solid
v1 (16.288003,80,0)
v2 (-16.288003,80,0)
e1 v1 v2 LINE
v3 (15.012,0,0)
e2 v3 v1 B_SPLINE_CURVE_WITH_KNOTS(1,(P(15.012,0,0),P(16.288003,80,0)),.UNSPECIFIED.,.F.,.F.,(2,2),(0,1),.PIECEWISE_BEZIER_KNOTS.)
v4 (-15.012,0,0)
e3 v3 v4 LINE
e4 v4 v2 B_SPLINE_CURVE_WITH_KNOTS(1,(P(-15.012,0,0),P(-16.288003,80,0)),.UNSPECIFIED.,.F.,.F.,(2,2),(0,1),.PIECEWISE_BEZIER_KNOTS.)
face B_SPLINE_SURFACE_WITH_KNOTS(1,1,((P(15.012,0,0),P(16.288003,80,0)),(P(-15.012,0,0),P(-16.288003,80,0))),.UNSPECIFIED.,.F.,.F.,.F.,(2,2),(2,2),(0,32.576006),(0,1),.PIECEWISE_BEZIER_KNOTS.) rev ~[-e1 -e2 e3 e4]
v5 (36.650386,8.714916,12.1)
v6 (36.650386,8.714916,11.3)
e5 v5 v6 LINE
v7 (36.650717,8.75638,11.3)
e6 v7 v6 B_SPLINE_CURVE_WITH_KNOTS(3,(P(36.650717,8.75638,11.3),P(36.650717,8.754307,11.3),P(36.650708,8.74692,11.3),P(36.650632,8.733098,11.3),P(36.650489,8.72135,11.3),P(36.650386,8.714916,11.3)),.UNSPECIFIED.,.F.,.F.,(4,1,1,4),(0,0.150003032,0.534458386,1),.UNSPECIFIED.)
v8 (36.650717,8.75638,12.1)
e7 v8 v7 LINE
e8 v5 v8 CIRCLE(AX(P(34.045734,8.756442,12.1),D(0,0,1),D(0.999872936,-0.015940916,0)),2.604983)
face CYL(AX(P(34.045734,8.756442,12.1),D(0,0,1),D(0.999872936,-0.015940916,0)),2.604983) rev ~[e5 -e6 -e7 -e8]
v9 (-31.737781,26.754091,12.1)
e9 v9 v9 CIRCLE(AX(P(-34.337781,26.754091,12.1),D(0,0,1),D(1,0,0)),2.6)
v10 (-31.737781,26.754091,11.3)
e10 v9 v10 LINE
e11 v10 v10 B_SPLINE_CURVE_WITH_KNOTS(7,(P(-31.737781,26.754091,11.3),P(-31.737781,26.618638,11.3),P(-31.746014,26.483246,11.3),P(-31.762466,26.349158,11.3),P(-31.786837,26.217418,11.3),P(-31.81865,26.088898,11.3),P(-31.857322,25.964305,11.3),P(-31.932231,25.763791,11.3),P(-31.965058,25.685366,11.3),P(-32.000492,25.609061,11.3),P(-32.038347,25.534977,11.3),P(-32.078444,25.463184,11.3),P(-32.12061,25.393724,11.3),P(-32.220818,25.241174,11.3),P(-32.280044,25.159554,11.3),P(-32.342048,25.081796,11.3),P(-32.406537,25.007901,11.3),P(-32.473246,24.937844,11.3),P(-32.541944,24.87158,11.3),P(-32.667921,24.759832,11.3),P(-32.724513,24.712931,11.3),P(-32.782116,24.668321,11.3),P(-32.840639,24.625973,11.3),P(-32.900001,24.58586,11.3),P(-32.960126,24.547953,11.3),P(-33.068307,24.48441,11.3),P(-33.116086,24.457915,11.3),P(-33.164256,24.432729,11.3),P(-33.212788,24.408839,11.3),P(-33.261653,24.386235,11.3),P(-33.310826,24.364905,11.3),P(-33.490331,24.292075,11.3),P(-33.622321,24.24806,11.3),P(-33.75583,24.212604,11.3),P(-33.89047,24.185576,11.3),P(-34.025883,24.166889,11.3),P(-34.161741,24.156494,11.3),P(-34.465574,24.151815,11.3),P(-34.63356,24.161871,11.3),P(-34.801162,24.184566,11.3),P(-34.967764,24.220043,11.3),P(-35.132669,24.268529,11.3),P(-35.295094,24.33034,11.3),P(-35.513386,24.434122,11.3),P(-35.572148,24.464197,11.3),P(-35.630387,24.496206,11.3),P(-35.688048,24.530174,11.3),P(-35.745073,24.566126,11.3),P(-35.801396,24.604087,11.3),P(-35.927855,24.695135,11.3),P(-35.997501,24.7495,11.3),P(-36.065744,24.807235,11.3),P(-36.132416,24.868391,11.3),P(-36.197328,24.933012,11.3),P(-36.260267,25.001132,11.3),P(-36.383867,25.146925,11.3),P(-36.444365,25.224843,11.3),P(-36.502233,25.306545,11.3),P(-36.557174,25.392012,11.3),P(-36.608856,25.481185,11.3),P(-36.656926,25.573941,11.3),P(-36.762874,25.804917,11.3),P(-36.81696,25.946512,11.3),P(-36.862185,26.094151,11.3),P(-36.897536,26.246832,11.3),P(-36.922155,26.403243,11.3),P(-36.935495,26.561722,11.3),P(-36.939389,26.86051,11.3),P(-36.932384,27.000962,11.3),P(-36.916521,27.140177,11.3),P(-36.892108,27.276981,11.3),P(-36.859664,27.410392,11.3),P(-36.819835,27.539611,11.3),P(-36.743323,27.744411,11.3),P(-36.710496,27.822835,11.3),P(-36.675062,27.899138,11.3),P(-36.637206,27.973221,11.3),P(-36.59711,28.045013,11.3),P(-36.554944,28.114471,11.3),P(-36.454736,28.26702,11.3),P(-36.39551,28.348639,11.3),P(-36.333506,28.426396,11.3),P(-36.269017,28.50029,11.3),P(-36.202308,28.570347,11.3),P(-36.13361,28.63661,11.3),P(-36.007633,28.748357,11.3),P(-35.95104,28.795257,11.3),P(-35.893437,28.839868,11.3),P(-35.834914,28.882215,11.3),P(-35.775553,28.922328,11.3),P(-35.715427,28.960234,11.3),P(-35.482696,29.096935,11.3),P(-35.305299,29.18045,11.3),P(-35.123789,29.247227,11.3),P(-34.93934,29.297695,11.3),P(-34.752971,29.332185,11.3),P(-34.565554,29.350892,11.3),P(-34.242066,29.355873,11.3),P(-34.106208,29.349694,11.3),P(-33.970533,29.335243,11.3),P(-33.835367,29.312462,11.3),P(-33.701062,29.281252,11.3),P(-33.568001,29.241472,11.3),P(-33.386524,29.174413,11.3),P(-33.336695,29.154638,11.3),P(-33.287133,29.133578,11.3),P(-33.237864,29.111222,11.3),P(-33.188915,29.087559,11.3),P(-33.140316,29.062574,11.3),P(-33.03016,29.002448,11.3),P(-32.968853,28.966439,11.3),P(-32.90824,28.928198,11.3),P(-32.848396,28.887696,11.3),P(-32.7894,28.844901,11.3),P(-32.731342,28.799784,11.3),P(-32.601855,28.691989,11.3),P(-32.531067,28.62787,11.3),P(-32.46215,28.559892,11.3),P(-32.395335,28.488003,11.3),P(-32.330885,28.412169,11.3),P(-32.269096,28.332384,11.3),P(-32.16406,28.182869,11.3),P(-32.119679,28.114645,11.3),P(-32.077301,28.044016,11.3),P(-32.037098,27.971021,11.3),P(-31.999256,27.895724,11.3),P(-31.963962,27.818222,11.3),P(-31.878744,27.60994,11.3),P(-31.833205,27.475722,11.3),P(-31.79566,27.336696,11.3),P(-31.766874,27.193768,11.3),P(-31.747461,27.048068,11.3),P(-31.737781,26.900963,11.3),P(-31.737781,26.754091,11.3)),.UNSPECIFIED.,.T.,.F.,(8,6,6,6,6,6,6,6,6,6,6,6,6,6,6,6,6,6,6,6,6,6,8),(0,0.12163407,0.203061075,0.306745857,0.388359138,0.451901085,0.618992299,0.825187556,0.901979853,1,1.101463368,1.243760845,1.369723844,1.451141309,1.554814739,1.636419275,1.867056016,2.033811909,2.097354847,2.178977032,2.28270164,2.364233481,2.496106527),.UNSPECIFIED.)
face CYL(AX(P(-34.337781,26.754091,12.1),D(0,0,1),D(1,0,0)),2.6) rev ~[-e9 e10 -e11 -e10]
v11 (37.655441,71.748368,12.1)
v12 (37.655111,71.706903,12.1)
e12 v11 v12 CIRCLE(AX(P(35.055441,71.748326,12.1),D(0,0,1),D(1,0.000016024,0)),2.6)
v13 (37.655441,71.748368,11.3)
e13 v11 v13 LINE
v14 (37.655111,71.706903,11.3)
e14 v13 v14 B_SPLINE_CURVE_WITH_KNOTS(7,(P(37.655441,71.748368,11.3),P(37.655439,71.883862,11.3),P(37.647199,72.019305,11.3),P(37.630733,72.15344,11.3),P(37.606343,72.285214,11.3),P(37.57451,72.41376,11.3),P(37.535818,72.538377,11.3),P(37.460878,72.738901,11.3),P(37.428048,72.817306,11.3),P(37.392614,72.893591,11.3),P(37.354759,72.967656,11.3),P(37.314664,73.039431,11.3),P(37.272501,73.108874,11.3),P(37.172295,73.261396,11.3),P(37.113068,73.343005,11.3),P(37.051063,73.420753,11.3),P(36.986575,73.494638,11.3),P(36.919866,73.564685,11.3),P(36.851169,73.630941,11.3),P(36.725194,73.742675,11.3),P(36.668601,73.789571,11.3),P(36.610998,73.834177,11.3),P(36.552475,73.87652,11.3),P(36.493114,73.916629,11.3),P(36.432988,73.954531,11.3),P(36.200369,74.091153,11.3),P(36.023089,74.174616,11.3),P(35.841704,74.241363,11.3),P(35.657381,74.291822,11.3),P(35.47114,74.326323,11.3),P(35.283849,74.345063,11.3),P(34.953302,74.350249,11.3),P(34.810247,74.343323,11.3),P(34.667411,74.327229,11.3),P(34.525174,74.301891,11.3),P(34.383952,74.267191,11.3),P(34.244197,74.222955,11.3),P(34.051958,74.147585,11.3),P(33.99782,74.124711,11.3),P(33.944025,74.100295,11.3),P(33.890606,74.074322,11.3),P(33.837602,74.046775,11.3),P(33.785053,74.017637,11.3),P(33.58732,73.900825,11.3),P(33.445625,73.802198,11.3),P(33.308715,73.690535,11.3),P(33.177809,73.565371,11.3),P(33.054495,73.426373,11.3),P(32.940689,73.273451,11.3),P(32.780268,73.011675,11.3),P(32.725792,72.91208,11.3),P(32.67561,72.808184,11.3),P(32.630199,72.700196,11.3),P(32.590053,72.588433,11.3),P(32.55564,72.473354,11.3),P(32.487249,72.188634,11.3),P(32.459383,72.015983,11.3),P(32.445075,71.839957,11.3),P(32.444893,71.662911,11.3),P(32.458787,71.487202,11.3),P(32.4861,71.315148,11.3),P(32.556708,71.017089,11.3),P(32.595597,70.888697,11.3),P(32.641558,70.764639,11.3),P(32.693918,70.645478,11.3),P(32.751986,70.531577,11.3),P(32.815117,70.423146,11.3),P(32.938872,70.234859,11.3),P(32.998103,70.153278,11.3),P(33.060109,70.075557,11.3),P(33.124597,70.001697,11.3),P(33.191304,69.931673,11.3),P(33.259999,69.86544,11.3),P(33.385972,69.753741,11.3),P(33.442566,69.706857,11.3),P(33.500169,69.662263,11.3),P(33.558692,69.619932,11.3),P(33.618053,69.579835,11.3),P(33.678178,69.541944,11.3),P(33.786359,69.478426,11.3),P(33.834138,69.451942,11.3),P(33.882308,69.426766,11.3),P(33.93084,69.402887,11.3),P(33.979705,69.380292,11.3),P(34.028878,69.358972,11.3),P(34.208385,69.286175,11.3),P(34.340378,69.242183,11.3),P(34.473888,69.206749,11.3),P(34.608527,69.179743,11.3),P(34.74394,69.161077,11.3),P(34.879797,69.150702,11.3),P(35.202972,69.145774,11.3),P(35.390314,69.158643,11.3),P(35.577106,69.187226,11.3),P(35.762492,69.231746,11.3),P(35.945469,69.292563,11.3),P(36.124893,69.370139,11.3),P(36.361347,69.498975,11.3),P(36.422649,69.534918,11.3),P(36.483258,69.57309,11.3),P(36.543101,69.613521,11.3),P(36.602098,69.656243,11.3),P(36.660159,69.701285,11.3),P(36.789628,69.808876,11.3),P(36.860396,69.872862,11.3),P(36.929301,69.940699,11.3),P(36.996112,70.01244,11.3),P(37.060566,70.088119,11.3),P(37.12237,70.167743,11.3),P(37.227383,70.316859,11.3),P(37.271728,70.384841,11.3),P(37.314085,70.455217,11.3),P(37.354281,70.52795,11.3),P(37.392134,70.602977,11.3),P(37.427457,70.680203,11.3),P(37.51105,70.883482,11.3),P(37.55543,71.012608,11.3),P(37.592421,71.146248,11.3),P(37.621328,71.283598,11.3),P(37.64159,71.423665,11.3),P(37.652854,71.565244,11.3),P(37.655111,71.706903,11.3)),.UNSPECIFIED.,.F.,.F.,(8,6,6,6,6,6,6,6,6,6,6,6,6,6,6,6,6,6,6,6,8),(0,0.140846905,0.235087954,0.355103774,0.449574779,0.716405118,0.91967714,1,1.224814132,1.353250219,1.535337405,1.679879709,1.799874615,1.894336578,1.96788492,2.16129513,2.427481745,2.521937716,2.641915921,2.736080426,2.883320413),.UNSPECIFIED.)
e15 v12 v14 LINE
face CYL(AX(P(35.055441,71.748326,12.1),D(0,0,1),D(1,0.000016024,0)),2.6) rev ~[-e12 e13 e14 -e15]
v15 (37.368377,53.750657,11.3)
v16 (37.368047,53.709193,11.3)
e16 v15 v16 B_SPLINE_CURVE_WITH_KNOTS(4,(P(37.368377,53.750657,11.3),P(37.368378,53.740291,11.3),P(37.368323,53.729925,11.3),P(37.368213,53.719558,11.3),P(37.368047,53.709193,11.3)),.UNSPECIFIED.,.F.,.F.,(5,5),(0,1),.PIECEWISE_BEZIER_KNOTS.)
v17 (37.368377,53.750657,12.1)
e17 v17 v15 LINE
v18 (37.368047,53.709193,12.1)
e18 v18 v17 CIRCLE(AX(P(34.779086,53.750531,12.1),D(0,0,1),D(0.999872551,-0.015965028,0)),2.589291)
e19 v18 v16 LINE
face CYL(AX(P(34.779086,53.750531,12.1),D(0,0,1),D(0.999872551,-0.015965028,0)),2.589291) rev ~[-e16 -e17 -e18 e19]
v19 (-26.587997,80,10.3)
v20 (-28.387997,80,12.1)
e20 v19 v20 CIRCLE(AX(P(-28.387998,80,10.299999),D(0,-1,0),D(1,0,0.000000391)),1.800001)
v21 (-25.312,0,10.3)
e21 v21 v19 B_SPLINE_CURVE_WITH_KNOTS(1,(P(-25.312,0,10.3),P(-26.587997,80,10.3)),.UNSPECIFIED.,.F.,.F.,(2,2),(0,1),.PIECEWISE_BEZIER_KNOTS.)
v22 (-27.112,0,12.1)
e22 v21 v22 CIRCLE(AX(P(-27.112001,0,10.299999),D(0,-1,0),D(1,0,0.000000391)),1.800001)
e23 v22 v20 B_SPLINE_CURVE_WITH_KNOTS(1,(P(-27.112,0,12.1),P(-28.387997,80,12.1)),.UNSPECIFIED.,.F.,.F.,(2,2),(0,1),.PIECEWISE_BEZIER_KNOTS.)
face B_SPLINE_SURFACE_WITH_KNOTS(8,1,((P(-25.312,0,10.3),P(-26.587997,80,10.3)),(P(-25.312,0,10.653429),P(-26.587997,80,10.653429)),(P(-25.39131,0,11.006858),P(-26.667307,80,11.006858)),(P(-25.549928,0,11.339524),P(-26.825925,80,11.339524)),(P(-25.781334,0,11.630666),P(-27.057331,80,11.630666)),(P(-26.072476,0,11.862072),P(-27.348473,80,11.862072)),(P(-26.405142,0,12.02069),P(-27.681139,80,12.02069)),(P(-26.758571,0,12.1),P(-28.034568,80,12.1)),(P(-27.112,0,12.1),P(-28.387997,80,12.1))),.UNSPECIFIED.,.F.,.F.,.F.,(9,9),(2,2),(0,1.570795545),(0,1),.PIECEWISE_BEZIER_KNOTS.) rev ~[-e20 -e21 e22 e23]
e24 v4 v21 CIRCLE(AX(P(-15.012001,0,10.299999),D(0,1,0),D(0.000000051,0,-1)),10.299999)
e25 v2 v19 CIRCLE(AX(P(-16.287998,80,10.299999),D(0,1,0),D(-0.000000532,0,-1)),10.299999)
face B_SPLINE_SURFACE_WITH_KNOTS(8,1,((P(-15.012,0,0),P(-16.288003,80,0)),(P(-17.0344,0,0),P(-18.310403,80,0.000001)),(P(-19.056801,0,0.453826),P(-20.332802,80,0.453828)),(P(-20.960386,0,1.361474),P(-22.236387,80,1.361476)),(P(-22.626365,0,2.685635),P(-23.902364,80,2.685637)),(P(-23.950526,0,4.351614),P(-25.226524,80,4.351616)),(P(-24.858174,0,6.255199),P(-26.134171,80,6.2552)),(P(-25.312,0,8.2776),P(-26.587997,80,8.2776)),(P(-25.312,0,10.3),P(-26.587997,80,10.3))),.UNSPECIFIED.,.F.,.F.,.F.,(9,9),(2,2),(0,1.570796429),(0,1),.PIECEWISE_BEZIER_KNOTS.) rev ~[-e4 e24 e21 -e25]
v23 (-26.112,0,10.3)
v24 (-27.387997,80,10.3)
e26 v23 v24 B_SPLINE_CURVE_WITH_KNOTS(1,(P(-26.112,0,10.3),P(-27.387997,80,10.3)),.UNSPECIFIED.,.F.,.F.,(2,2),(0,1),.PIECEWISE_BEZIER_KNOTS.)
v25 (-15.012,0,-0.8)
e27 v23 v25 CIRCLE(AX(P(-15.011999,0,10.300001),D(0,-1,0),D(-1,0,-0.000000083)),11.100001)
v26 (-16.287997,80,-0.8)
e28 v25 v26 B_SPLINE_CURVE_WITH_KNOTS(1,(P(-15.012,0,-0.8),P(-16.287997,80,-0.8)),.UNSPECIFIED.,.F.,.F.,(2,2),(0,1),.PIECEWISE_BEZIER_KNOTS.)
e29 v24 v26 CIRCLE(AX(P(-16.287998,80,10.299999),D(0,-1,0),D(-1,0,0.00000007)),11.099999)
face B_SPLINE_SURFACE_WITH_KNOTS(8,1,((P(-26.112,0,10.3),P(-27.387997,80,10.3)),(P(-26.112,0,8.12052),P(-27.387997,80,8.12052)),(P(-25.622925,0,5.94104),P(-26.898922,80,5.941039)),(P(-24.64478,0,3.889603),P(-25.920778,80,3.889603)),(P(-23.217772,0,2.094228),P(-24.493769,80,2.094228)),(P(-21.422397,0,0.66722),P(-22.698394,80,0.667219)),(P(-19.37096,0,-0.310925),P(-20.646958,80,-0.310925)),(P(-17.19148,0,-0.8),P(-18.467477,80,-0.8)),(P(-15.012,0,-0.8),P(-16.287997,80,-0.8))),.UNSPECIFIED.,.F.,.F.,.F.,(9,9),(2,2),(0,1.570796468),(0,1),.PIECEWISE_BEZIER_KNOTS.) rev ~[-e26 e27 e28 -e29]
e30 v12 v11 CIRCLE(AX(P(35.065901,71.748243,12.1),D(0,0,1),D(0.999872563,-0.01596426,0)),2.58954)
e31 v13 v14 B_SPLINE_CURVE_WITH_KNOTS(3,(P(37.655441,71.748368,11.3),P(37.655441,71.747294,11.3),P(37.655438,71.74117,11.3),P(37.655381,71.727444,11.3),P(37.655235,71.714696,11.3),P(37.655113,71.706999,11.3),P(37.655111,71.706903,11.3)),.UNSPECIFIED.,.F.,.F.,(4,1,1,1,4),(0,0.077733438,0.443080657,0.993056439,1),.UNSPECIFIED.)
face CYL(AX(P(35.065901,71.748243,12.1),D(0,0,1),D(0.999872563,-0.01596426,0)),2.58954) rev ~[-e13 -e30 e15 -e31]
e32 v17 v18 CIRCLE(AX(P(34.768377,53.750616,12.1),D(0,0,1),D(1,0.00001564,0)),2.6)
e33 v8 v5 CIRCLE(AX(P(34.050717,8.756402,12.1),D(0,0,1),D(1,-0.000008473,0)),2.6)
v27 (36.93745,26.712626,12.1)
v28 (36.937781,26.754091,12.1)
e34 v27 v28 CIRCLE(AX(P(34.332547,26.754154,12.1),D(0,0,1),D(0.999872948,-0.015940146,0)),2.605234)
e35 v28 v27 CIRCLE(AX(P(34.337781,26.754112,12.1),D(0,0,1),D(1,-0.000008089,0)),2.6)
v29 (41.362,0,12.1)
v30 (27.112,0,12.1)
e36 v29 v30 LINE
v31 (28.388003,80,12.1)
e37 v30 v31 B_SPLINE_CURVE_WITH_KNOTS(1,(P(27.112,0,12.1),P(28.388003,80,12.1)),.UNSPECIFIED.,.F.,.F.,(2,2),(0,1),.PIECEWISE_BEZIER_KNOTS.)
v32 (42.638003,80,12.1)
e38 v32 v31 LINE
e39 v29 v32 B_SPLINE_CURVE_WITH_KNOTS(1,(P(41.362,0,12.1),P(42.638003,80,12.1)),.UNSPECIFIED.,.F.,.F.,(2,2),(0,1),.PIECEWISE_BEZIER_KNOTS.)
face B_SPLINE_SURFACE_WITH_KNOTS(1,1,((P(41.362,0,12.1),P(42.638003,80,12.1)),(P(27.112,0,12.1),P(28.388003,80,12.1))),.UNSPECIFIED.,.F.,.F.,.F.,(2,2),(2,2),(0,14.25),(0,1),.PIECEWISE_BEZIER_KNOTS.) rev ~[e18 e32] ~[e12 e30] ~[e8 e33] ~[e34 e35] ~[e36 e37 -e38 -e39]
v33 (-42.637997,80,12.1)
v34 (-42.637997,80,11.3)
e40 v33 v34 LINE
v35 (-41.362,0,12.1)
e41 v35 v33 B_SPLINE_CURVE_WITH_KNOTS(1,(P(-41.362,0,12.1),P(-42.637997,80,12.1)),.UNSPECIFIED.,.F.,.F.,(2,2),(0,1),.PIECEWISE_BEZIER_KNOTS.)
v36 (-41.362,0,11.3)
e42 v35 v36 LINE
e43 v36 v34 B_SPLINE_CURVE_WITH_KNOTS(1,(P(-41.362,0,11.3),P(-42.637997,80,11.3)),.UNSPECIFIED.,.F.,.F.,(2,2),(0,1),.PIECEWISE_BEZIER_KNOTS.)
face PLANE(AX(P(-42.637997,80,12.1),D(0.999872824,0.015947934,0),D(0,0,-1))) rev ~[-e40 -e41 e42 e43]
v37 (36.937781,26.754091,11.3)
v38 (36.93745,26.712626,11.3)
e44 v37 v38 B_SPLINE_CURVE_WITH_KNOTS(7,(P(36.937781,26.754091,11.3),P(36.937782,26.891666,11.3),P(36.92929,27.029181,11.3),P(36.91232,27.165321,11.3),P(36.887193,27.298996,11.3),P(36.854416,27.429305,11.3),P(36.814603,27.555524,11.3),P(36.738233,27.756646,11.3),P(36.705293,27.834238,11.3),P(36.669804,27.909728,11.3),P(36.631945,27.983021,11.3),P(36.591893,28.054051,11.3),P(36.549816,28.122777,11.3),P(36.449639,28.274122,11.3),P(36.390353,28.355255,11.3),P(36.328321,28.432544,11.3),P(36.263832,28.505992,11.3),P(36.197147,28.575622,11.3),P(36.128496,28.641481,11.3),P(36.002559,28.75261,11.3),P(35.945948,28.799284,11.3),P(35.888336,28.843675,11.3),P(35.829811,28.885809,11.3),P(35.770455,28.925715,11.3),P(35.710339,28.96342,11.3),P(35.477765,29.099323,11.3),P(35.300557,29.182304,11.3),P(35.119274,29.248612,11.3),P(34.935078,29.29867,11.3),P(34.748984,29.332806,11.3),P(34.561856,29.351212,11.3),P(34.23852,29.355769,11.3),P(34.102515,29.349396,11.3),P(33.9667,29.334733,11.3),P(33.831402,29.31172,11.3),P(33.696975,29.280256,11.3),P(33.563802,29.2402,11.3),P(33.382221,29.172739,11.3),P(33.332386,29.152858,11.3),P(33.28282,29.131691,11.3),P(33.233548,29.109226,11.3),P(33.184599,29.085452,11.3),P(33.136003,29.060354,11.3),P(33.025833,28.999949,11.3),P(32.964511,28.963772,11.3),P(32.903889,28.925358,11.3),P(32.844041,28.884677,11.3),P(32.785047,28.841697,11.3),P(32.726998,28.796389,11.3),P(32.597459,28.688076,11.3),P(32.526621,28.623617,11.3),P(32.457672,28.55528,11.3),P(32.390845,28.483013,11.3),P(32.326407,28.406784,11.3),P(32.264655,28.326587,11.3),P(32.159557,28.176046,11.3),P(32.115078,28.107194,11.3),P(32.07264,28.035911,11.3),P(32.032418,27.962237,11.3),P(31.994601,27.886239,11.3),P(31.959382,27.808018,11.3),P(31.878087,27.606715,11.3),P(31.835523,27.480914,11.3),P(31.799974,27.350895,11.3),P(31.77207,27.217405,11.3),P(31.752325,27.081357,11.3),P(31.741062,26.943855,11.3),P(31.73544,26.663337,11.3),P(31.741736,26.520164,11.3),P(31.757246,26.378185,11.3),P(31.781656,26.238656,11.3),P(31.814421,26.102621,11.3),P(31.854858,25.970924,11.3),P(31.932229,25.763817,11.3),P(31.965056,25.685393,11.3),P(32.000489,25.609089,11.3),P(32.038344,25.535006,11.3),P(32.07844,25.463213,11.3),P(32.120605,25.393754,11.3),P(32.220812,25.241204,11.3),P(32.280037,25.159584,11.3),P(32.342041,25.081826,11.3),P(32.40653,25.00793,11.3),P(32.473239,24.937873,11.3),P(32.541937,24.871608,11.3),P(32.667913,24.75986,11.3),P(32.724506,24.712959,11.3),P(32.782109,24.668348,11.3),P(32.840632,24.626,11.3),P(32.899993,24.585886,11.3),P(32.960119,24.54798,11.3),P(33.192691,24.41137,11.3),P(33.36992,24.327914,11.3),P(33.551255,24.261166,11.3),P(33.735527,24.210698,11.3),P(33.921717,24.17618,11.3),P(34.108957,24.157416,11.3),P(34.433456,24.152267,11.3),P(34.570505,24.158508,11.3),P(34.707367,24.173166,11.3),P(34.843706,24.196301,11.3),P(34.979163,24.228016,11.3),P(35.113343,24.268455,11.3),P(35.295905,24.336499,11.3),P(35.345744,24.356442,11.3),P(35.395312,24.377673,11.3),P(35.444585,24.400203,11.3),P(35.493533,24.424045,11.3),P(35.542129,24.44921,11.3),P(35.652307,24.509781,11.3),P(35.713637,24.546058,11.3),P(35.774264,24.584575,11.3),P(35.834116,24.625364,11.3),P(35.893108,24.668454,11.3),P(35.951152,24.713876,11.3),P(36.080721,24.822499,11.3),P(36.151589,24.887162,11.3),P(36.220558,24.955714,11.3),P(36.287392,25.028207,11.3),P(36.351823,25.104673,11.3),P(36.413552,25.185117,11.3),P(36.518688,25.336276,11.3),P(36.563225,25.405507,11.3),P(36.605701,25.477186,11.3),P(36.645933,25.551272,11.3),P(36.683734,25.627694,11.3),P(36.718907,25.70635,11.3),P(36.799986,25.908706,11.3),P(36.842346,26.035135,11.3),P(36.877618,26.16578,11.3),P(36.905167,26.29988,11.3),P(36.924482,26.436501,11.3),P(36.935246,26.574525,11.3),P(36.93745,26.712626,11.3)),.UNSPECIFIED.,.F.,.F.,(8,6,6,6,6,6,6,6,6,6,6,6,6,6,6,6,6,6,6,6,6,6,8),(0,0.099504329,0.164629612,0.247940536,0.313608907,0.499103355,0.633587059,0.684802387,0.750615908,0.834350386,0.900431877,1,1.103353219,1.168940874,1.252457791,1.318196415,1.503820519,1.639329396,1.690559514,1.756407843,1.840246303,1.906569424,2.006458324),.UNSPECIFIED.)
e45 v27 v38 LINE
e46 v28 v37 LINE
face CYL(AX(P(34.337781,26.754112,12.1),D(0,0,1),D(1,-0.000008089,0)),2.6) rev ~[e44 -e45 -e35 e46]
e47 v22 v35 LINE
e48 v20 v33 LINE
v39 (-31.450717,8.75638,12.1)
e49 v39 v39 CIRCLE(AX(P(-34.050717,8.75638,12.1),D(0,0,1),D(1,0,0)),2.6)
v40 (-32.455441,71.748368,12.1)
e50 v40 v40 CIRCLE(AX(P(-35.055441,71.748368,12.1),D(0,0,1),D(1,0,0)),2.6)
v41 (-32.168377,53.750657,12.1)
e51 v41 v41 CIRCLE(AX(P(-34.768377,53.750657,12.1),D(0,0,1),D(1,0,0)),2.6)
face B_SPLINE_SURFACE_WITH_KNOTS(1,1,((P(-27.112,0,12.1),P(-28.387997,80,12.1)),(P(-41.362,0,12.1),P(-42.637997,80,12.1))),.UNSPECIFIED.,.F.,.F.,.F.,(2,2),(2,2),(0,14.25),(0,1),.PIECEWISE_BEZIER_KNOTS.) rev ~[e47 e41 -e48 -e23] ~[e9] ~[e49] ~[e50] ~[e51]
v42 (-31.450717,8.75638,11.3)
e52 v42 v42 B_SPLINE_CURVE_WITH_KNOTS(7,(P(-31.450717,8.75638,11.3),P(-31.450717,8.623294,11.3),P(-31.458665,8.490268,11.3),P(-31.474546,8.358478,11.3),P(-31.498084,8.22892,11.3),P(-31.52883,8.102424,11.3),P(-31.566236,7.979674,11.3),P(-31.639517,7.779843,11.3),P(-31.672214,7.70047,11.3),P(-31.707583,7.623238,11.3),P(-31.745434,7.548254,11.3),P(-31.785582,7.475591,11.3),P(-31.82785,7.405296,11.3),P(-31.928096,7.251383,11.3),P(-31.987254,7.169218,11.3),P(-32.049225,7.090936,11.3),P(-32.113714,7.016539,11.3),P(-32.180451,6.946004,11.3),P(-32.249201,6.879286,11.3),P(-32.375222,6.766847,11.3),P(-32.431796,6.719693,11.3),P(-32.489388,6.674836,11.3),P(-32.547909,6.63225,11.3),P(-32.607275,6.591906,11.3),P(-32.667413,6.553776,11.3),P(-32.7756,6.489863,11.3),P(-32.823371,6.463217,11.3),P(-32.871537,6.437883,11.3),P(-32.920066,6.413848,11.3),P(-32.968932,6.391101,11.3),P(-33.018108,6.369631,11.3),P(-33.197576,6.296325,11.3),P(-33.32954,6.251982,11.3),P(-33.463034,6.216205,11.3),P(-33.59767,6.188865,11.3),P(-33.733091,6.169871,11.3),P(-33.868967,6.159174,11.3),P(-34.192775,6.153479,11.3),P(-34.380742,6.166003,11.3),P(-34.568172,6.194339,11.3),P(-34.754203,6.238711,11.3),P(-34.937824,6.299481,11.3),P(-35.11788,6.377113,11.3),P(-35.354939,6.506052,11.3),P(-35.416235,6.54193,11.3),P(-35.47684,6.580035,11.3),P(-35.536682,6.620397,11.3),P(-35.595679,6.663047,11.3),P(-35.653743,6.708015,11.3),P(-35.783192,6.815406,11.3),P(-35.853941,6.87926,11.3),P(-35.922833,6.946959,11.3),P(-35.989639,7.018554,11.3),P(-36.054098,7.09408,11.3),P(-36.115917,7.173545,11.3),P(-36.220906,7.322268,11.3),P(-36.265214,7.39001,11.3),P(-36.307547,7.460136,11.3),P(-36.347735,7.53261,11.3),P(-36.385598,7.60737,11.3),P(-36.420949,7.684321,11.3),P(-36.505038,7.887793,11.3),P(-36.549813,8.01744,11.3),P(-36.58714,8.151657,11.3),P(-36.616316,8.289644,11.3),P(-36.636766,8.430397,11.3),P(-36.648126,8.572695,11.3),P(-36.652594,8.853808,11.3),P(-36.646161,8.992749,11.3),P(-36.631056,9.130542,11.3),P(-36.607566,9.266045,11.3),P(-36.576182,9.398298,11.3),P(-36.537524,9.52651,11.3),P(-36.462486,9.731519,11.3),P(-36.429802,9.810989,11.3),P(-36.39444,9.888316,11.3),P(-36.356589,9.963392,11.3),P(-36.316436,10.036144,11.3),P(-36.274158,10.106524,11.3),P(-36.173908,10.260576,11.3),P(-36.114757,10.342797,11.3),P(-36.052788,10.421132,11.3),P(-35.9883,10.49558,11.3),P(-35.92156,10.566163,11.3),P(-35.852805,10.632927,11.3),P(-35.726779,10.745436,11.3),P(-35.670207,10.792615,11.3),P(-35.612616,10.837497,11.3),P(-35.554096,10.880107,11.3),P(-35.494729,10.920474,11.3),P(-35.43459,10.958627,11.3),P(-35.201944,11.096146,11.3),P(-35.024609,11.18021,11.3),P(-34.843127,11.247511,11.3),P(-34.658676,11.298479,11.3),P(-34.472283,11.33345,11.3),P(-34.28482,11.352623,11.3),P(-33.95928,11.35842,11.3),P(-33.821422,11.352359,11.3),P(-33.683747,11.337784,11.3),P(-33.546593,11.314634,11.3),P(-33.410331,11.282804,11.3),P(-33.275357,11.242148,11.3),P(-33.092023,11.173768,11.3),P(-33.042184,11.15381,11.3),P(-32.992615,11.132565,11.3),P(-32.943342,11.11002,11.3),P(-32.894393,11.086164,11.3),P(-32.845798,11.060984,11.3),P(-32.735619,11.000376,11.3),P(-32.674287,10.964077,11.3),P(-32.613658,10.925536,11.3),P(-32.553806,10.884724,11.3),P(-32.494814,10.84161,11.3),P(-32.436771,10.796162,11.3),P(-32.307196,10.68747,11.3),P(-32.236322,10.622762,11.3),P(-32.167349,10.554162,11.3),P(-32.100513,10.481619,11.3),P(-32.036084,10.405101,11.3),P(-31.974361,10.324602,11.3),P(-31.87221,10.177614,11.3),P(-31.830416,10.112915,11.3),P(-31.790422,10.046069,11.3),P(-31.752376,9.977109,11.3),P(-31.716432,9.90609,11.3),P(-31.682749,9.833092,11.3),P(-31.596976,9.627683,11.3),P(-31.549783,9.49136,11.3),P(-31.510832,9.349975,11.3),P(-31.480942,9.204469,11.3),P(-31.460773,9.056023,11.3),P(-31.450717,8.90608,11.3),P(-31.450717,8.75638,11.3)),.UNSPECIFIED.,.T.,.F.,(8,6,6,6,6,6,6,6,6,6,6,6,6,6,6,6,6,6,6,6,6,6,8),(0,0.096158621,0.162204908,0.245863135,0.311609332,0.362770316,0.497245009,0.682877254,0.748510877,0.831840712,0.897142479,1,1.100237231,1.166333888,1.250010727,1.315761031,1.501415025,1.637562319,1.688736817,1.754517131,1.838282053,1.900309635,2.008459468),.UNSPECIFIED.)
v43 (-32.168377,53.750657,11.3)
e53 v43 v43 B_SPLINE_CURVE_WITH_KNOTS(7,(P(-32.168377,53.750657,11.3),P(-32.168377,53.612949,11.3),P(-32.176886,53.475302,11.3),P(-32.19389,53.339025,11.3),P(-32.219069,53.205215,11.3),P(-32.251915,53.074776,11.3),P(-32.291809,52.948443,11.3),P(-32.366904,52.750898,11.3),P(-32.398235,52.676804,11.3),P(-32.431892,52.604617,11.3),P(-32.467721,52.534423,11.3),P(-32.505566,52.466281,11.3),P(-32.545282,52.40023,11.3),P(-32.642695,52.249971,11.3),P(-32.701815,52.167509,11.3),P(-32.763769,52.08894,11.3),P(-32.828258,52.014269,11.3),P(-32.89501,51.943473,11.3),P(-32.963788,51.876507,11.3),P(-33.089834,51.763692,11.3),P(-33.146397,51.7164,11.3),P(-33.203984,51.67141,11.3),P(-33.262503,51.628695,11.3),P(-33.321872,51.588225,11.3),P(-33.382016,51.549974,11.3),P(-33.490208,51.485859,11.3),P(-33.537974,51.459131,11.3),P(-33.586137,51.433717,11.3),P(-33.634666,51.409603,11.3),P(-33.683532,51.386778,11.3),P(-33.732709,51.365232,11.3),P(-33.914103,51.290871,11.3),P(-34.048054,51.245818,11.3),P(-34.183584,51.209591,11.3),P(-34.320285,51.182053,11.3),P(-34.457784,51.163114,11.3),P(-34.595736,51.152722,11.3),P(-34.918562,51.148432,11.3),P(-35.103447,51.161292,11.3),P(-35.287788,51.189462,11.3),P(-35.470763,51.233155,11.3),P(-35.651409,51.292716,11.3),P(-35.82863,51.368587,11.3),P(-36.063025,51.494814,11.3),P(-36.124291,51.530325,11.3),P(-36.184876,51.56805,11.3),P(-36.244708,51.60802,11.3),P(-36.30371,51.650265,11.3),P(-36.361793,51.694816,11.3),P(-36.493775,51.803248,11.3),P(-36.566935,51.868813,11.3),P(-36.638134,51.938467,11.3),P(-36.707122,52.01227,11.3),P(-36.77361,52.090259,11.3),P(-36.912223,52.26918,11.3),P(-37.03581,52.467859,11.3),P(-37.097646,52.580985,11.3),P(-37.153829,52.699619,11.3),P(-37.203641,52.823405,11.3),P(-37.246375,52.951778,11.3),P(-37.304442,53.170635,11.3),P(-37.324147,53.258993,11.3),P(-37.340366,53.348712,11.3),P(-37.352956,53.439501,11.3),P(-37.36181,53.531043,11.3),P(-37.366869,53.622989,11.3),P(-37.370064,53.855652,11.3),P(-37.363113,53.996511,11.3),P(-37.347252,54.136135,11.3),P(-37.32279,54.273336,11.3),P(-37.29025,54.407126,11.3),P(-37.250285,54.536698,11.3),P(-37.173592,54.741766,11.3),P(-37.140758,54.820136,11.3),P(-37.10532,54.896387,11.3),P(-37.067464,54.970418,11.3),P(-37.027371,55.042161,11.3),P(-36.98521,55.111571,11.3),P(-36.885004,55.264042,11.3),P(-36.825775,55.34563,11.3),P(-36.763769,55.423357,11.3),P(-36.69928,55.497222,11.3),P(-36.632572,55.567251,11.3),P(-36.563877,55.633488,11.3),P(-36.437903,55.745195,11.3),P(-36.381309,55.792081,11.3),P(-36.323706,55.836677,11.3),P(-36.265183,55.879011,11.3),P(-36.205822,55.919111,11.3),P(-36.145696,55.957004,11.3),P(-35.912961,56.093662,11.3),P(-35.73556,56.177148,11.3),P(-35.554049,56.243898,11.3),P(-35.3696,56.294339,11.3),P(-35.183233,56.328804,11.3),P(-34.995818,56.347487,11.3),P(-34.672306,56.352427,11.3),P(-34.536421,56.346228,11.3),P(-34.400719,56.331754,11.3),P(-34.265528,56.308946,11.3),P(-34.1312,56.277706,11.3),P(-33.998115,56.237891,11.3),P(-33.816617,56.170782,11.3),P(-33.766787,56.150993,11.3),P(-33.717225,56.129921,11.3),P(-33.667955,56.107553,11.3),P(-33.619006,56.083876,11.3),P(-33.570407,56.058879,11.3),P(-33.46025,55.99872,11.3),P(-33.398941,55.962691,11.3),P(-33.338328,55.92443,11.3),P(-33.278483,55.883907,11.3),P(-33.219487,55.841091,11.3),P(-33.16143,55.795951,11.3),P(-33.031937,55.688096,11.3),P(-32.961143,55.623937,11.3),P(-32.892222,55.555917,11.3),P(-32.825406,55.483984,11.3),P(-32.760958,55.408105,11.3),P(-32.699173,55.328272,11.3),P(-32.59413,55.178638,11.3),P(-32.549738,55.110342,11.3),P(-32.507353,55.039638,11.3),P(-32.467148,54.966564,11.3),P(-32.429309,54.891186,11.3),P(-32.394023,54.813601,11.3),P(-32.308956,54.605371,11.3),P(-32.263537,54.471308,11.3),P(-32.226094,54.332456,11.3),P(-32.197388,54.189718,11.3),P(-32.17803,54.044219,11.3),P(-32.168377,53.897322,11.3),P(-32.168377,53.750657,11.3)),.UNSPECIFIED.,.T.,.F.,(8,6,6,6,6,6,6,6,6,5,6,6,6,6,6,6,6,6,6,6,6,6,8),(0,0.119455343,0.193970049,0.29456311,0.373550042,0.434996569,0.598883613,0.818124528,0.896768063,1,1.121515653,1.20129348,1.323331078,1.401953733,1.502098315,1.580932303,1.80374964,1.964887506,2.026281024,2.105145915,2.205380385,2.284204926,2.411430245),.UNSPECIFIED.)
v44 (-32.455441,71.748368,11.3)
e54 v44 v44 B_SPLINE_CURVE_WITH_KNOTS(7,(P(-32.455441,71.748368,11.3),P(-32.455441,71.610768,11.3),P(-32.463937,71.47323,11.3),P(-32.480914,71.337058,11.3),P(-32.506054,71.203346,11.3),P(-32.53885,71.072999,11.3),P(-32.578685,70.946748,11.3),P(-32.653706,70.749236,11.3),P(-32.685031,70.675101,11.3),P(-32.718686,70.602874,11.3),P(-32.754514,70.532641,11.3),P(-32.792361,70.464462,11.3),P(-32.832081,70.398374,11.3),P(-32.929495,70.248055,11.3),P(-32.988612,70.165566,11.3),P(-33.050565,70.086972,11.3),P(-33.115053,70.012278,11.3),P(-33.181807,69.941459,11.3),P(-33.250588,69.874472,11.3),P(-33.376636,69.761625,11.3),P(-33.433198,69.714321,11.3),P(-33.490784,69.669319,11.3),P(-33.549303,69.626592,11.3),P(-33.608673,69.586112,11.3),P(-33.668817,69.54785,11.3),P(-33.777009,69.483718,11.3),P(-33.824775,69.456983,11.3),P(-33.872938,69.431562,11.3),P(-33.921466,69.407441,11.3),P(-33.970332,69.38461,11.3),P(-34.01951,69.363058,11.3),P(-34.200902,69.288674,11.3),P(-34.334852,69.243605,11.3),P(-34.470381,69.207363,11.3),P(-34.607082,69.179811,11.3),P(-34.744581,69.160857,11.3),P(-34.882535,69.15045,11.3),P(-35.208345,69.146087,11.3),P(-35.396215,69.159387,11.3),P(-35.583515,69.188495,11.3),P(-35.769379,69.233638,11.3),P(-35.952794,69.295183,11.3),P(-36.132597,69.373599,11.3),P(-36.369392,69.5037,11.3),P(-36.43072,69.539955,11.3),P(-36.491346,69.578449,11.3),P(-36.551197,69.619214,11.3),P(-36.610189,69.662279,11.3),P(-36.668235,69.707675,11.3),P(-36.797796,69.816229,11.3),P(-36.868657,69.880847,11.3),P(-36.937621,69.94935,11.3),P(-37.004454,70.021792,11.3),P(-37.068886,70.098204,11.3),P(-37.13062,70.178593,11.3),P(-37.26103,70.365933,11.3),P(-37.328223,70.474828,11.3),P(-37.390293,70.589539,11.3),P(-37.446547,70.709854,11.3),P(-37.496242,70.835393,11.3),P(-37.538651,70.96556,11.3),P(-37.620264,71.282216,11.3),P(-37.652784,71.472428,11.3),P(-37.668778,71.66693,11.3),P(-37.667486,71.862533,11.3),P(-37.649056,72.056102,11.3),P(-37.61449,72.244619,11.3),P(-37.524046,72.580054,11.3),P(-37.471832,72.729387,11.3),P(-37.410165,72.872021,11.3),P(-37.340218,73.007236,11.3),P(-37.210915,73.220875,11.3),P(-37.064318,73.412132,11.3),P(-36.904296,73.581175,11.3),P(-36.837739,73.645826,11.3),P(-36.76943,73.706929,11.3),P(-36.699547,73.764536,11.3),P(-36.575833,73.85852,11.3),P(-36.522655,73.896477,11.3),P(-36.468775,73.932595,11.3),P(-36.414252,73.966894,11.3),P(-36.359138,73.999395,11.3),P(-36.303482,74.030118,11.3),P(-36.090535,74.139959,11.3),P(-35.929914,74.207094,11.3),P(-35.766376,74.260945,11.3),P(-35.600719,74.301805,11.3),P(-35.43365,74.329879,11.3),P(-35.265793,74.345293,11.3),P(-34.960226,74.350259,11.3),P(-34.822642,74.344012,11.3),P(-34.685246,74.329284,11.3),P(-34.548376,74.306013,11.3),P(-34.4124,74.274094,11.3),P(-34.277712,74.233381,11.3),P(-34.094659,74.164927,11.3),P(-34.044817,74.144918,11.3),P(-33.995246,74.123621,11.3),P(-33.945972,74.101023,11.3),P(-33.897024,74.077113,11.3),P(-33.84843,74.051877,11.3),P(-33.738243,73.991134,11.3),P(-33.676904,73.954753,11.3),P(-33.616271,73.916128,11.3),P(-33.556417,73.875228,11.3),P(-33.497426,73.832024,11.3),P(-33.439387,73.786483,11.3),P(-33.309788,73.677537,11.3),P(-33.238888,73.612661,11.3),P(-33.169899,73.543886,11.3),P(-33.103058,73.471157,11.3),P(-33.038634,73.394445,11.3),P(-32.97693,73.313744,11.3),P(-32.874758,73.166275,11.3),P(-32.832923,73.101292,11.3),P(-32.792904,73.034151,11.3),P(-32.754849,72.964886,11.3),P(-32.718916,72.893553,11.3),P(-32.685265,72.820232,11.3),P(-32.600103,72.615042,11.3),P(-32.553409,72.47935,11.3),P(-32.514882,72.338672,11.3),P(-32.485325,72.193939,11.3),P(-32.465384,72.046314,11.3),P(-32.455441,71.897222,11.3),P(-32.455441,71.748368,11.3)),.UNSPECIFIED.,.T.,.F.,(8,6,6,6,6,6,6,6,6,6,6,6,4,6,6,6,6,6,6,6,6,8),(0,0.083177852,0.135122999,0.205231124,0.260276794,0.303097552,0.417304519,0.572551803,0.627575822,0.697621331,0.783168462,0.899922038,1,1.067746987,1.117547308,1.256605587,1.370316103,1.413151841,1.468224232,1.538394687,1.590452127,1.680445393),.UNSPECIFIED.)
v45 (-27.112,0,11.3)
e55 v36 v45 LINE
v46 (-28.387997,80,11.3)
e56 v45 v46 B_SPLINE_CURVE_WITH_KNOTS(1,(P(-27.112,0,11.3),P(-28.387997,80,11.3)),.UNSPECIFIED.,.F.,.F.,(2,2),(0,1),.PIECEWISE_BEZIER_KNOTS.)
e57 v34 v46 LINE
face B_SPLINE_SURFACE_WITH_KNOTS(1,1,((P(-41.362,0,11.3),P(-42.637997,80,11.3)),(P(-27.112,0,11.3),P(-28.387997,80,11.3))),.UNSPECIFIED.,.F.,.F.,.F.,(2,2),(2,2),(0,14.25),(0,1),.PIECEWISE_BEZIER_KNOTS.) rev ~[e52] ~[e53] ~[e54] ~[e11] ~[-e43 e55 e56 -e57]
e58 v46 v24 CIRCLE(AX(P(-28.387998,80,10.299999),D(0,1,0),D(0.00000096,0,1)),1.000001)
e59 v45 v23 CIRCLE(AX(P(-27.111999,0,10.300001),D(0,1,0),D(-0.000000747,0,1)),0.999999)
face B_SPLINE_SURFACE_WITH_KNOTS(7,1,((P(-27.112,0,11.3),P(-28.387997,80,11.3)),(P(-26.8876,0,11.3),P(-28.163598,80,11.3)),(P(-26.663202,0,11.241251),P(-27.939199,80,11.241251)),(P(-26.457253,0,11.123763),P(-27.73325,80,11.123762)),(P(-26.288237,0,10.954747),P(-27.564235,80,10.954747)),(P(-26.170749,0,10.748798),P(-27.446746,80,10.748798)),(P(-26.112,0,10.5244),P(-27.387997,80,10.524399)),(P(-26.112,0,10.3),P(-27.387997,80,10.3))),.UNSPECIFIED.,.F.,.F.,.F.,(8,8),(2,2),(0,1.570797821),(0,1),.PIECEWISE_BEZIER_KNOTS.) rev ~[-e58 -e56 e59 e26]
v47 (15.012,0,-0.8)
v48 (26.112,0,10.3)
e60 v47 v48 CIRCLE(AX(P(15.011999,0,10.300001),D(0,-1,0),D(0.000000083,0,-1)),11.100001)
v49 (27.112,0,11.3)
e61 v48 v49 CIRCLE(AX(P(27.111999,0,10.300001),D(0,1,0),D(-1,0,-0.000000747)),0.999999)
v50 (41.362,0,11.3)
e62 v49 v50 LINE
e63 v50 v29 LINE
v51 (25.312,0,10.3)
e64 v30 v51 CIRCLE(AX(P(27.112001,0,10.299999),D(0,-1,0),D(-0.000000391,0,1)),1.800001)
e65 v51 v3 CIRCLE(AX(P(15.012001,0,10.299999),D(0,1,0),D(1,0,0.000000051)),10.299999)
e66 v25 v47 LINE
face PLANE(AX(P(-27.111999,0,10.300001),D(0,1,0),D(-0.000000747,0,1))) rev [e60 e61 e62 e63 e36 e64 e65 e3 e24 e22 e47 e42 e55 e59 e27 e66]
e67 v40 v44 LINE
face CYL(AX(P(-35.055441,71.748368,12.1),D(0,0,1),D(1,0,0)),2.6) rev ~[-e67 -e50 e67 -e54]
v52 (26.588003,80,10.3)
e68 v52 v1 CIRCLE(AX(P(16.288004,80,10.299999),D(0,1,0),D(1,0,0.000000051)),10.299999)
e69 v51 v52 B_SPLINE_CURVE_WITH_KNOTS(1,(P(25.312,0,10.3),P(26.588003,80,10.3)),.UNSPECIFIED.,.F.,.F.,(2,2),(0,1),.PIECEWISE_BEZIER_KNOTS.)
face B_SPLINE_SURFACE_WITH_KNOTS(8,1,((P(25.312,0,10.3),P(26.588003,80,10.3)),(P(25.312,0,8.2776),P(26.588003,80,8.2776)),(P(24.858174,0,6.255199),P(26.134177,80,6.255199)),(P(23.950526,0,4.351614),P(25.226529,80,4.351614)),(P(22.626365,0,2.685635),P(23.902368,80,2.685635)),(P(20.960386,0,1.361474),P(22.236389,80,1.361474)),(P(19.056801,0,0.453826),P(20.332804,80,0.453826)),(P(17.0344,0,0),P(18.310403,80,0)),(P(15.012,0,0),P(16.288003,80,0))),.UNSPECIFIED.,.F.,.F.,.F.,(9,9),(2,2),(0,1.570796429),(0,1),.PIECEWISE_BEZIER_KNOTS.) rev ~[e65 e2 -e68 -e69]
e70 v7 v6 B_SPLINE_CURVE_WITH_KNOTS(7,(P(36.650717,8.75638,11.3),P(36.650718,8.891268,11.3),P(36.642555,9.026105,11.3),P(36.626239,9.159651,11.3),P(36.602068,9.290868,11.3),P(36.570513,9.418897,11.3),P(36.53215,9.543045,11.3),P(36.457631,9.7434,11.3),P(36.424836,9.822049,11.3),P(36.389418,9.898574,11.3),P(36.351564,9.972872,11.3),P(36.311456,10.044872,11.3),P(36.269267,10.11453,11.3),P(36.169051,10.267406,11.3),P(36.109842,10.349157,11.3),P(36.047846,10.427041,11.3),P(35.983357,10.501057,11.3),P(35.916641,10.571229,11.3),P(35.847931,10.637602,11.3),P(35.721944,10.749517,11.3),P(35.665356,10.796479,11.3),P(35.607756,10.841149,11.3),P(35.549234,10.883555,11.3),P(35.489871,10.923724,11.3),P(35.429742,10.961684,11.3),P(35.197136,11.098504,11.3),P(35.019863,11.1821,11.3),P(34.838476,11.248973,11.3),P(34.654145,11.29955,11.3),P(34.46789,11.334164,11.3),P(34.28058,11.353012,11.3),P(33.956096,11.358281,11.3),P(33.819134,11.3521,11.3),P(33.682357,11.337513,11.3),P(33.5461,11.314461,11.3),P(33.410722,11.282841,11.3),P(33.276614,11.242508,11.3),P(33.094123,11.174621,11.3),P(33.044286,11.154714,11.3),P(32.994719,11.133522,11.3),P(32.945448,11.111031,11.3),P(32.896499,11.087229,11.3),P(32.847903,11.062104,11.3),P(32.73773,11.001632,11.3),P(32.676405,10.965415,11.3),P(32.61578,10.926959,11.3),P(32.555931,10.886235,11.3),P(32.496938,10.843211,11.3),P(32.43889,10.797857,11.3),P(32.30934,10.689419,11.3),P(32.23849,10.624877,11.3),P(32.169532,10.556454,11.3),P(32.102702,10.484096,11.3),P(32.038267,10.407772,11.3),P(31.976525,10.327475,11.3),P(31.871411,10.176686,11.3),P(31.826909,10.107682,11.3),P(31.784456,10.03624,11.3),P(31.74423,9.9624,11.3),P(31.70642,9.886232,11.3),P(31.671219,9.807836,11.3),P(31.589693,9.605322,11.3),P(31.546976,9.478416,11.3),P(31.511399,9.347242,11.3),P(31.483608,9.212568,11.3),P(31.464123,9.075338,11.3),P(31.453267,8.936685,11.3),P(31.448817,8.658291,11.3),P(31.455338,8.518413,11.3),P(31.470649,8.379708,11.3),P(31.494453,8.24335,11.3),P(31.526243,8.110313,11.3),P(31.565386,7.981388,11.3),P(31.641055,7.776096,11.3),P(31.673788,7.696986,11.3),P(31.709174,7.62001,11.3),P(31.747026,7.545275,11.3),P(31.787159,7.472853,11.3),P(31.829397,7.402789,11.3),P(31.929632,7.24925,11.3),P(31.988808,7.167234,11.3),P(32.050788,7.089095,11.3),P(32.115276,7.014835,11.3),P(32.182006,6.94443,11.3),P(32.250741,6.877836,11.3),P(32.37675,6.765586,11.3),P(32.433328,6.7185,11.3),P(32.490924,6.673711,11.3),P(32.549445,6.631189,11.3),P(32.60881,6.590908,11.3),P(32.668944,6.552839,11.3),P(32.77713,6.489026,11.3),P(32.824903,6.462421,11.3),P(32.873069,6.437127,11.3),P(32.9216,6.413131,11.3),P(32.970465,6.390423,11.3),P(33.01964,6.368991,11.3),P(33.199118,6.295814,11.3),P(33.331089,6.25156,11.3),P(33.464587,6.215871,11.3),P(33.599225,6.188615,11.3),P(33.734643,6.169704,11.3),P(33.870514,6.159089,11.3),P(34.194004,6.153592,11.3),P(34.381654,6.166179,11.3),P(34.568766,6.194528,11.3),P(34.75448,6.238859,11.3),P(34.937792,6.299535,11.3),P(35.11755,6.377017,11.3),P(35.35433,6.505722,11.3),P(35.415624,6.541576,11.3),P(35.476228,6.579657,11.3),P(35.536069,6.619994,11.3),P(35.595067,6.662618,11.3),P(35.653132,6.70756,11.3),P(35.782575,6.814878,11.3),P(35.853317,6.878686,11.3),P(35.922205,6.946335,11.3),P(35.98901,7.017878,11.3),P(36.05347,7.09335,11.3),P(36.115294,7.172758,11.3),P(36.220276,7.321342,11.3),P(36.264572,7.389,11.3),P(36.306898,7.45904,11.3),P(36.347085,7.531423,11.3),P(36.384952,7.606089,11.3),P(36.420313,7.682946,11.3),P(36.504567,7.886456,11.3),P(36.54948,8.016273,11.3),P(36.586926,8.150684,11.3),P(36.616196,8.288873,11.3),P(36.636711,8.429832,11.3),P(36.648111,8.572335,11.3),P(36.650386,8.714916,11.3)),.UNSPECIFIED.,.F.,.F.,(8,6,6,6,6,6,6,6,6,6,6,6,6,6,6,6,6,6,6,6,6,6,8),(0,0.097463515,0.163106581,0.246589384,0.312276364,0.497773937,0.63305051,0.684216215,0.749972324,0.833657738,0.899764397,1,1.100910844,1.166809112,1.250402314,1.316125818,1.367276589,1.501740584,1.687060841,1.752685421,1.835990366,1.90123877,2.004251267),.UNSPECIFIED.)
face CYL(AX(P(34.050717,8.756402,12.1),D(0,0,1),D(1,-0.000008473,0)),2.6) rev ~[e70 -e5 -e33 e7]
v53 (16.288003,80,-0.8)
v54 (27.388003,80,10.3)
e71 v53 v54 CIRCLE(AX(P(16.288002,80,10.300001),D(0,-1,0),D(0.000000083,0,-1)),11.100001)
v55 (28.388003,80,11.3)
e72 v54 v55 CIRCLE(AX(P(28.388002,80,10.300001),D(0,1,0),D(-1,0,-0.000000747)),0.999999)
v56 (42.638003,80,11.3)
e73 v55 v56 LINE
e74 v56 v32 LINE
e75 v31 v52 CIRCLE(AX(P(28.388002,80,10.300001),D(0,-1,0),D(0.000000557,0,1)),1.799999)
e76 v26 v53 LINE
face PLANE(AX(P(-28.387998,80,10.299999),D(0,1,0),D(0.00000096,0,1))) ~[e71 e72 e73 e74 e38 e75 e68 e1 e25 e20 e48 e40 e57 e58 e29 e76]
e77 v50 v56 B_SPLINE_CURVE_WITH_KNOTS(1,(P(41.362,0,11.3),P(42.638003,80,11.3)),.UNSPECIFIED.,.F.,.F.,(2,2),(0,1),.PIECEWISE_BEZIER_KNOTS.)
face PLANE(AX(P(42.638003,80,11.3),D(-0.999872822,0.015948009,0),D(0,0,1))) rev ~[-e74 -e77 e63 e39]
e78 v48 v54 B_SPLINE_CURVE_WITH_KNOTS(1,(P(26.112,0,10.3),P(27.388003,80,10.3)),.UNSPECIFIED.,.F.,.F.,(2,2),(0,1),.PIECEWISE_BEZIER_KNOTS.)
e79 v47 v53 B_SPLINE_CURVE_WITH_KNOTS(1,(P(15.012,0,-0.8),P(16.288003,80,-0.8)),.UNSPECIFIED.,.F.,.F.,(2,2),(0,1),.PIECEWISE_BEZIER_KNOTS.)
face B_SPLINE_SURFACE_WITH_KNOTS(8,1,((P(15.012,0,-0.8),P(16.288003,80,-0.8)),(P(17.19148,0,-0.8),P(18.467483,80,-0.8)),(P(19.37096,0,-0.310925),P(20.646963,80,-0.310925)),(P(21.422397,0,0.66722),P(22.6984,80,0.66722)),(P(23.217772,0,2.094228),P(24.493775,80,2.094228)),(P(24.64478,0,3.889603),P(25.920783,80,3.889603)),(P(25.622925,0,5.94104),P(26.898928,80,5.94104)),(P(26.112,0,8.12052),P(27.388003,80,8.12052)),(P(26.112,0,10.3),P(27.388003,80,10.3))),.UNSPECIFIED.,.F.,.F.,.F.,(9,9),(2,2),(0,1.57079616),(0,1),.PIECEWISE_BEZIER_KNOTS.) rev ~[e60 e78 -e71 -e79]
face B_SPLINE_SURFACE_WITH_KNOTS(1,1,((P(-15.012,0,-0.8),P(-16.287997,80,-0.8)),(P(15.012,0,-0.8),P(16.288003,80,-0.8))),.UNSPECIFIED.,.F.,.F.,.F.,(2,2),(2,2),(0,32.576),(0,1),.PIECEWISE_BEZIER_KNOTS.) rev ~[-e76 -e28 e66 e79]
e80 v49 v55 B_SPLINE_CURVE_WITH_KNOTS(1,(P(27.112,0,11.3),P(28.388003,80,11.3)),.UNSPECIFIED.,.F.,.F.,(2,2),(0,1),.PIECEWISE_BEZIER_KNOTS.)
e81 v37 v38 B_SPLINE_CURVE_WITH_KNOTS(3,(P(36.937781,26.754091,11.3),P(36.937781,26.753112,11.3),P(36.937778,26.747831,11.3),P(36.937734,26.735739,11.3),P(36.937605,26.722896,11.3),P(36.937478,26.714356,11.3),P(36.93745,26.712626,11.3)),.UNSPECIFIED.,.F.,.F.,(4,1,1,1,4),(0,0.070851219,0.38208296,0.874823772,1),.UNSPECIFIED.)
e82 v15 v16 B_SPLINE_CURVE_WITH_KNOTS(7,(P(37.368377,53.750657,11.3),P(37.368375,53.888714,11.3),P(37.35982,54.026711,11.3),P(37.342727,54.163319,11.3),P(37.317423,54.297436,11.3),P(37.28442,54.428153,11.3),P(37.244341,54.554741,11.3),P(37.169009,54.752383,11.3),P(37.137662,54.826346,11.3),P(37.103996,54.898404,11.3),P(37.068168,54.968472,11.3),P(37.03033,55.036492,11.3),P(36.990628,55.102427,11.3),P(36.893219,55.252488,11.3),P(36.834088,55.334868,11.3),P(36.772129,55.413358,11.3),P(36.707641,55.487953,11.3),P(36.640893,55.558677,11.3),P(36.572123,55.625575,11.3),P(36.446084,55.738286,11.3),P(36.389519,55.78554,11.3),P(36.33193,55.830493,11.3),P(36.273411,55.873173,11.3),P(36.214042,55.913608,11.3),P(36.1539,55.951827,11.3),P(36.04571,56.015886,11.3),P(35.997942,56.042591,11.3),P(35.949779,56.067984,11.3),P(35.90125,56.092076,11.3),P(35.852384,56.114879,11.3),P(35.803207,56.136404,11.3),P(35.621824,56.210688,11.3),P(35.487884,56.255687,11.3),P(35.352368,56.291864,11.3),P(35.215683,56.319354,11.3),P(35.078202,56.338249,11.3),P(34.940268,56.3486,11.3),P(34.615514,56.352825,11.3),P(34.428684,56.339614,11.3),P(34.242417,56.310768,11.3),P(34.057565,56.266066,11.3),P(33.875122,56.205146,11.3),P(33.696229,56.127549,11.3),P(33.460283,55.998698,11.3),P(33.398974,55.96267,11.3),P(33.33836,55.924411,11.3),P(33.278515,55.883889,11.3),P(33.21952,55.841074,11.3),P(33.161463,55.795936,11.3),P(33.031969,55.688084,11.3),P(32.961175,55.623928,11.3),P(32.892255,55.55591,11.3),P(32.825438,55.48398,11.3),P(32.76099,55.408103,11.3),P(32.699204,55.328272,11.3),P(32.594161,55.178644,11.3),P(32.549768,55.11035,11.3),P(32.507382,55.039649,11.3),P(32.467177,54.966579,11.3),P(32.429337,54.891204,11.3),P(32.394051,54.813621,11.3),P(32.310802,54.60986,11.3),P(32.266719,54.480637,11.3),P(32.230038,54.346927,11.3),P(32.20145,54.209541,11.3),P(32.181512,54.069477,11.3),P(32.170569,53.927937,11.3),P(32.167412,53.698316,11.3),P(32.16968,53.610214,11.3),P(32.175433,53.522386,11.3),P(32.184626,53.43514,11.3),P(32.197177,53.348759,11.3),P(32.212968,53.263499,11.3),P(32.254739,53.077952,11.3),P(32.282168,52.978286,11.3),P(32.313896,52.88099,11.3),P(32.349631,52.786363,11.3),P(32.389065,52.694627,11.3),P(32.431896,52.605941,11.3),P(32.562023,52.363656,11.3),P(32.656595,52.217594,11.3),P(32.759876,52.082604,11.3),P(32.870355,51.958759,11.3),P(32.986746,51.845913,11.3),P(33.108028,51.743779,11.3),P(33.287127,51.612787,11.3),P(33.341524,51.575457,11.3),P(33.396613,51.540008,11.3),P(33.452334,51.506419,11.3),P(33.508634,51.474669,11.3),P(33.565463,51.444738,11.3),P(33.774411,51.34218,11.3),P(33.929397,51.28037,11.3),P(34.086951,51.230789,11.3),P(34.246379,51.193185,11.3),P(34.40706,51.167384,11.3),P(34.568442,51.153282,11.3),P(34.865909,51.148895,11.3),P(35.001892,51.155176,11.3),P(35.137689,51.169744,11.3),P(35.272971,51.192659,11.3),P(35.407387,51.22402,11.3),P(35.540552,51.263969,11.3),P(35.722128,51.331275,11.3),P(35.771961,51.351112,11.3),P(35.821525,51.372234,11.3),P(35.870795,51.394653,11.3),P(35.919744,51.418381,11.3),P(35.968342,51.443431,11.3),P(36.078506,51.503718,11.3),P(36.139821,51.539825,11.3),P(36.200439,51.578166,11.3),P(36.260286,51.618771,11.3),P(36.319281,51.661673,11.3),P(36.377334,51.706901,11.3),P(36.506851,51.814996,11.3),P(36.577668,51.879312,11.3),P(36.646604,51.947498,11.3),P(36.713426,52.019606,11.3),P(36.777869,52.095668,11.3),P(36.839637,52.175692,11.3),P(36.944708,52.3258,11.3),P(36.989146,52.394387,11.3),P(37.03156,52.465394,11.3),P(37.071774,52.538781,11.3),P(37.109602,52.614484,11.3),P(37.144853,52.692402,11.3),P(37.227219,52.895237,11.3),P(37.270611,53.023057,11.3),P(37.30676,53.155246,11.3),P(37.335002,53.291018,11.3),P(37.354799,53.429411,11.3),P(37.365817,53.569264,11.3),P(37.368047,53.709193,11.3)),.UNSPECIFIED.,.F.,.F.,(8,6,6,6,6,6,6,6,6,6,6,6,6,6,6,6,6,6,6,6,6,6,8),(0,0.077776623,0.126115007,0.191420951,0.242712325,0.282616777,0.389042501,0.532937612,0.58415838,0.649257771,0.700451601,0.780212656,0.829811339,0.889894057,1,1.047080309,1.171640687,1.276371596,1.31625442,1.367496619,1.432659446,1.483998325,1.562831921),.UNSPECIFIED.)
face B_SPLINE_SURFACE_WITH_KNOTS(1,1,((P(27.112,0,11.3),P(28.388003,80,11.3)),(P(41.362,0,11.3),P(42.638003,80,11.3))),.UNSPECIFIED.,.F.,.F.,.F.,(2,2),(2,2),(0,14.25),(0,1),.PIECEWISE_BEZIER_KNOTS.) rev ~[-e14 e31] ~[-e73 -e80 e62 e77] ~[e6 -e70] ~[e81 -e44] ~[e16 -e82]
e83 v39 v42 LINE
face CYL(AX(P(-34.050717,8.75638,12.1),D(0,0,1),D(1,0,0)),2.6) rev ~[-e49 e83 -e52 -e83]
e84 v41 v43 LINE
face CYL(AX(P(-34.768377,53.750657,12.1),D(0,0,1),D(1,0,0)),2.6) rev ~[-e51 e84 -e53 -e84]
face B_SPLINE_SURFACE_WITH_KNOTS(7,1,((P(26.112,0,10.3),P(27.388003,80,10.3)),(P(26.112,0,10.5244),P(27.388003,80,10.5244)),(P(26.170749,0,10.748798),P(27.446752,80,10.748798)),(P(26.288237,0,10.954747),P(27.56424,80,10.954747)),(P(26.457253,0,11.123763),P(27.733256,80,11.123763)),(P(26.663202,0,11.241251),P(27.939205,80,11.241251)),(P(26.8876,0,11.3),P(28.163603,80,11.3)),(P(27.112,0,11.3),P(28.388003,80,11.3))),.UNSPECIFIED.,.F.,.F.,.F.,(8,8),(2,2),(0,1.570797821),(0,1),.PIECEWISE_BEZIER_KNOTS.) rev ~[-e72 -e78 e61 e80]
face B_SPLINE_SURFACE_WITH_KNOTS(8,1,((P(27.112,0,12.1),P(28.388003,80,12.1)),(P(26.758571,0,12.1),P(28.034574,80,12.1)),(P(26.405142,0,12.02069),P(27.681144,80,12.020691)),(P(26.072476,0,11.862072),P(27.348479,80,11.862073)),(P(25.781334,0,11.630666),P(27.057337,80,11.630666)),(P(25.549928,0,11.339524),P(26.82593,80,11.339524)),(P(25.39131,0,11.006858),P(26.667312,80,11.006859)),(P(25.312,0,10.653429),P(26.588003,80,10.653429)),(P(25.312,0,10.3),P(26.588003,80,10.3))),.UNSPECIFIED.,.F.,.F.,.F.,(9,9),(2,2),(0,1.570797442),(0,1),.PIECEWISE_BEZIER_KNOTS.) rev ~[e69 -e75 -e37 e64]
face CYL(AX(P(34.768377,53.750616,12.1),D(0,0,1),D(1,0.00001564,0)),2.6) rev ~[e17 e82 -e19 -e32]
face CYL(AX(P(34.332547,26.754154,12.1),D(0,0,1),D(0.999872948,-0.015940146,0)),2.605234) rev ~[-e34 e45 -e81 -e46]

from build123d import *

# Parameters (mm, degrees)
F4_R     = 2.6
F5_DEPTH = 12.901


with BuildPart() as f3:
    # F0 (on Front) → F3 section 0
    with BuildSketch(Plane.XZ):
        with BuildLine():
            Line((-27.112, 12.1), (-41.362, 12.1))
            Line((-41.362, 12.1), (-41.362, 11.3))
            Line((-41.362, 11.3), (-27.112, 11.3))
            ThreePointArc((-27.112, 11.3), (-26.404893, 11.007107), (-26.112, 10.3))
            ThreePointArc((-26.112, 10.3), (-22.860885, 2.451115), (-15.012, -0.8))
            Line((-15.012, -0.8), (15.012, -0.8))
            ThreePointArc((15.012, -0.8), (22.860885, 2.451115), (26.112, 10.3))
            ThreePointArc((26.112, 10.3), (26.404893, 11.007107), (27.112, 11.3))
            Line((27.112, 11.3), (41.362, 11.3))
            Line((41.362, 11.3), (41.362, 12.1))
            Line((41.362, 12.1), (27.112, 12.1))
            ThreePointArc((27.112, 12.1), (25.839208, 11.572792), (25.312, 10.3))
            ThreePointArc((25.312, 10.3), (22.2952, 3.0168), (15.012, 0))
            Line((15.012, 0), (-15.012, 0))
            ThreePointArc((-15.012, 0), (-22.2952, 3.0168), (-25.312, 10.3))
            ThreePointArc((-25.312, 10.3), (-25.839208, 11.572792), (-27.112, 12.1))
        make_face()
    # F2 (on offset) → F3 section 1
    with BuildSketch(Plane.XZ.offset(-80)):
        with BuildLine():
            Line((-28.387997, 12.1), (-42.637997, 12.1))
            Line((-42.637997, 12.1), (-42.637997, 11.3))
            Line((-42.637997, 11.3), (-28.387997, 11.3))
            ThreePointArc((-28.387997, 11.3), (-27.680891, 11.007107), (-27.387997, 10.3))
            ThreePointArc((-27.387997, 10.3), (-24.136883, 2.451115), (-16.287997, -0.8))
            Line((-16.287997, -0.8), (16.288003, -0.8))
            ThreePointArc((16.288003, -0.8), (24.136888, 2.451115), (27.388003, 10.3))
            ThreePointArc((27.388003, 10.3), (27.680896, 11.007107), (28.388003, 11.3))
            Line((28.388003, 11.3), (42.638003, 11.3))
            Line((42.638003, 11.3), (42.638003, 12.1))
            Line((42.638003, 12.1), (28.388003, 12.1))
            ThreePointArc((28.388003, 12.1), (27.11521, 11.572792), (26.588003, 10.3))
            ThreePointArc((26.588003, 10.3), (23.571203, 3.0168), (16.288003, 0))
            Line((16.288003, 0), (-16.288003, 0))
            ThreePointArc((-16.288003, 0), (-23.571199, 3.016802), (-26.587997, 10.3))
            ThreePointArc((-26.587997, 10.3), (-27.115205, 11.572792), (-28.387997, 12.1))
        make_face()
    loft()

    # F4 (on face) → F5 (cut, through all)
    with BuildSketch(Plane.XY.offset(12.1)):
        with Locations((-35.055441, 71.748368)):
            Circle(F4_R)
        with Locations((-34.768377, 53.750657)):
            Circle(F4_R)
        with Locations((-34.337781, 26.754091)):
            Circle(F4_R)
        with Locations((-34.050717, 8.75638)):
            Circle(F4_R)
        with BuildLine():
            ThreePointArc((36.650386, 8.714916), (36.650634, 8.735647), (36.650717, 8.75638))
            ThreePointArc((36.650717, 8.75638), (31.4508, 8.777113), (36.650386, 8.714916))
        make_face()
        with BuildLine():
            ThreePointArc((36.93745, 26.712626), (36.937698, 26.733358), (36.937781, 26.754091))
            ThreePointArc((36.937781, 26.754091), (31.737864, 26.774824), (36.93745, 26.712626))
        make_face()
        with BuildLine():
            ThreePointArc((37.368047, 53.709193), (37.368295, 53.729924), (37.368377, 53.750657))
            ThreePointArc((37.368377, 53.750657), (32.16846, 53.77139), (37.368047, 53.709193))
        make_face()
        with BuildLine():
            ThreePointArc((37.655111, 71.706903), (37.655359, 71.727635), (37.655441, 71.748368))
            ThreePointArc((37.655441, 71.748368), (32.455524, 71.769101), (37.655111, 71.706903))
        make_face()
    extrude(amount=-F5_DEPTH, mode=Mode.SUBTRACT)


solid = f3.part
